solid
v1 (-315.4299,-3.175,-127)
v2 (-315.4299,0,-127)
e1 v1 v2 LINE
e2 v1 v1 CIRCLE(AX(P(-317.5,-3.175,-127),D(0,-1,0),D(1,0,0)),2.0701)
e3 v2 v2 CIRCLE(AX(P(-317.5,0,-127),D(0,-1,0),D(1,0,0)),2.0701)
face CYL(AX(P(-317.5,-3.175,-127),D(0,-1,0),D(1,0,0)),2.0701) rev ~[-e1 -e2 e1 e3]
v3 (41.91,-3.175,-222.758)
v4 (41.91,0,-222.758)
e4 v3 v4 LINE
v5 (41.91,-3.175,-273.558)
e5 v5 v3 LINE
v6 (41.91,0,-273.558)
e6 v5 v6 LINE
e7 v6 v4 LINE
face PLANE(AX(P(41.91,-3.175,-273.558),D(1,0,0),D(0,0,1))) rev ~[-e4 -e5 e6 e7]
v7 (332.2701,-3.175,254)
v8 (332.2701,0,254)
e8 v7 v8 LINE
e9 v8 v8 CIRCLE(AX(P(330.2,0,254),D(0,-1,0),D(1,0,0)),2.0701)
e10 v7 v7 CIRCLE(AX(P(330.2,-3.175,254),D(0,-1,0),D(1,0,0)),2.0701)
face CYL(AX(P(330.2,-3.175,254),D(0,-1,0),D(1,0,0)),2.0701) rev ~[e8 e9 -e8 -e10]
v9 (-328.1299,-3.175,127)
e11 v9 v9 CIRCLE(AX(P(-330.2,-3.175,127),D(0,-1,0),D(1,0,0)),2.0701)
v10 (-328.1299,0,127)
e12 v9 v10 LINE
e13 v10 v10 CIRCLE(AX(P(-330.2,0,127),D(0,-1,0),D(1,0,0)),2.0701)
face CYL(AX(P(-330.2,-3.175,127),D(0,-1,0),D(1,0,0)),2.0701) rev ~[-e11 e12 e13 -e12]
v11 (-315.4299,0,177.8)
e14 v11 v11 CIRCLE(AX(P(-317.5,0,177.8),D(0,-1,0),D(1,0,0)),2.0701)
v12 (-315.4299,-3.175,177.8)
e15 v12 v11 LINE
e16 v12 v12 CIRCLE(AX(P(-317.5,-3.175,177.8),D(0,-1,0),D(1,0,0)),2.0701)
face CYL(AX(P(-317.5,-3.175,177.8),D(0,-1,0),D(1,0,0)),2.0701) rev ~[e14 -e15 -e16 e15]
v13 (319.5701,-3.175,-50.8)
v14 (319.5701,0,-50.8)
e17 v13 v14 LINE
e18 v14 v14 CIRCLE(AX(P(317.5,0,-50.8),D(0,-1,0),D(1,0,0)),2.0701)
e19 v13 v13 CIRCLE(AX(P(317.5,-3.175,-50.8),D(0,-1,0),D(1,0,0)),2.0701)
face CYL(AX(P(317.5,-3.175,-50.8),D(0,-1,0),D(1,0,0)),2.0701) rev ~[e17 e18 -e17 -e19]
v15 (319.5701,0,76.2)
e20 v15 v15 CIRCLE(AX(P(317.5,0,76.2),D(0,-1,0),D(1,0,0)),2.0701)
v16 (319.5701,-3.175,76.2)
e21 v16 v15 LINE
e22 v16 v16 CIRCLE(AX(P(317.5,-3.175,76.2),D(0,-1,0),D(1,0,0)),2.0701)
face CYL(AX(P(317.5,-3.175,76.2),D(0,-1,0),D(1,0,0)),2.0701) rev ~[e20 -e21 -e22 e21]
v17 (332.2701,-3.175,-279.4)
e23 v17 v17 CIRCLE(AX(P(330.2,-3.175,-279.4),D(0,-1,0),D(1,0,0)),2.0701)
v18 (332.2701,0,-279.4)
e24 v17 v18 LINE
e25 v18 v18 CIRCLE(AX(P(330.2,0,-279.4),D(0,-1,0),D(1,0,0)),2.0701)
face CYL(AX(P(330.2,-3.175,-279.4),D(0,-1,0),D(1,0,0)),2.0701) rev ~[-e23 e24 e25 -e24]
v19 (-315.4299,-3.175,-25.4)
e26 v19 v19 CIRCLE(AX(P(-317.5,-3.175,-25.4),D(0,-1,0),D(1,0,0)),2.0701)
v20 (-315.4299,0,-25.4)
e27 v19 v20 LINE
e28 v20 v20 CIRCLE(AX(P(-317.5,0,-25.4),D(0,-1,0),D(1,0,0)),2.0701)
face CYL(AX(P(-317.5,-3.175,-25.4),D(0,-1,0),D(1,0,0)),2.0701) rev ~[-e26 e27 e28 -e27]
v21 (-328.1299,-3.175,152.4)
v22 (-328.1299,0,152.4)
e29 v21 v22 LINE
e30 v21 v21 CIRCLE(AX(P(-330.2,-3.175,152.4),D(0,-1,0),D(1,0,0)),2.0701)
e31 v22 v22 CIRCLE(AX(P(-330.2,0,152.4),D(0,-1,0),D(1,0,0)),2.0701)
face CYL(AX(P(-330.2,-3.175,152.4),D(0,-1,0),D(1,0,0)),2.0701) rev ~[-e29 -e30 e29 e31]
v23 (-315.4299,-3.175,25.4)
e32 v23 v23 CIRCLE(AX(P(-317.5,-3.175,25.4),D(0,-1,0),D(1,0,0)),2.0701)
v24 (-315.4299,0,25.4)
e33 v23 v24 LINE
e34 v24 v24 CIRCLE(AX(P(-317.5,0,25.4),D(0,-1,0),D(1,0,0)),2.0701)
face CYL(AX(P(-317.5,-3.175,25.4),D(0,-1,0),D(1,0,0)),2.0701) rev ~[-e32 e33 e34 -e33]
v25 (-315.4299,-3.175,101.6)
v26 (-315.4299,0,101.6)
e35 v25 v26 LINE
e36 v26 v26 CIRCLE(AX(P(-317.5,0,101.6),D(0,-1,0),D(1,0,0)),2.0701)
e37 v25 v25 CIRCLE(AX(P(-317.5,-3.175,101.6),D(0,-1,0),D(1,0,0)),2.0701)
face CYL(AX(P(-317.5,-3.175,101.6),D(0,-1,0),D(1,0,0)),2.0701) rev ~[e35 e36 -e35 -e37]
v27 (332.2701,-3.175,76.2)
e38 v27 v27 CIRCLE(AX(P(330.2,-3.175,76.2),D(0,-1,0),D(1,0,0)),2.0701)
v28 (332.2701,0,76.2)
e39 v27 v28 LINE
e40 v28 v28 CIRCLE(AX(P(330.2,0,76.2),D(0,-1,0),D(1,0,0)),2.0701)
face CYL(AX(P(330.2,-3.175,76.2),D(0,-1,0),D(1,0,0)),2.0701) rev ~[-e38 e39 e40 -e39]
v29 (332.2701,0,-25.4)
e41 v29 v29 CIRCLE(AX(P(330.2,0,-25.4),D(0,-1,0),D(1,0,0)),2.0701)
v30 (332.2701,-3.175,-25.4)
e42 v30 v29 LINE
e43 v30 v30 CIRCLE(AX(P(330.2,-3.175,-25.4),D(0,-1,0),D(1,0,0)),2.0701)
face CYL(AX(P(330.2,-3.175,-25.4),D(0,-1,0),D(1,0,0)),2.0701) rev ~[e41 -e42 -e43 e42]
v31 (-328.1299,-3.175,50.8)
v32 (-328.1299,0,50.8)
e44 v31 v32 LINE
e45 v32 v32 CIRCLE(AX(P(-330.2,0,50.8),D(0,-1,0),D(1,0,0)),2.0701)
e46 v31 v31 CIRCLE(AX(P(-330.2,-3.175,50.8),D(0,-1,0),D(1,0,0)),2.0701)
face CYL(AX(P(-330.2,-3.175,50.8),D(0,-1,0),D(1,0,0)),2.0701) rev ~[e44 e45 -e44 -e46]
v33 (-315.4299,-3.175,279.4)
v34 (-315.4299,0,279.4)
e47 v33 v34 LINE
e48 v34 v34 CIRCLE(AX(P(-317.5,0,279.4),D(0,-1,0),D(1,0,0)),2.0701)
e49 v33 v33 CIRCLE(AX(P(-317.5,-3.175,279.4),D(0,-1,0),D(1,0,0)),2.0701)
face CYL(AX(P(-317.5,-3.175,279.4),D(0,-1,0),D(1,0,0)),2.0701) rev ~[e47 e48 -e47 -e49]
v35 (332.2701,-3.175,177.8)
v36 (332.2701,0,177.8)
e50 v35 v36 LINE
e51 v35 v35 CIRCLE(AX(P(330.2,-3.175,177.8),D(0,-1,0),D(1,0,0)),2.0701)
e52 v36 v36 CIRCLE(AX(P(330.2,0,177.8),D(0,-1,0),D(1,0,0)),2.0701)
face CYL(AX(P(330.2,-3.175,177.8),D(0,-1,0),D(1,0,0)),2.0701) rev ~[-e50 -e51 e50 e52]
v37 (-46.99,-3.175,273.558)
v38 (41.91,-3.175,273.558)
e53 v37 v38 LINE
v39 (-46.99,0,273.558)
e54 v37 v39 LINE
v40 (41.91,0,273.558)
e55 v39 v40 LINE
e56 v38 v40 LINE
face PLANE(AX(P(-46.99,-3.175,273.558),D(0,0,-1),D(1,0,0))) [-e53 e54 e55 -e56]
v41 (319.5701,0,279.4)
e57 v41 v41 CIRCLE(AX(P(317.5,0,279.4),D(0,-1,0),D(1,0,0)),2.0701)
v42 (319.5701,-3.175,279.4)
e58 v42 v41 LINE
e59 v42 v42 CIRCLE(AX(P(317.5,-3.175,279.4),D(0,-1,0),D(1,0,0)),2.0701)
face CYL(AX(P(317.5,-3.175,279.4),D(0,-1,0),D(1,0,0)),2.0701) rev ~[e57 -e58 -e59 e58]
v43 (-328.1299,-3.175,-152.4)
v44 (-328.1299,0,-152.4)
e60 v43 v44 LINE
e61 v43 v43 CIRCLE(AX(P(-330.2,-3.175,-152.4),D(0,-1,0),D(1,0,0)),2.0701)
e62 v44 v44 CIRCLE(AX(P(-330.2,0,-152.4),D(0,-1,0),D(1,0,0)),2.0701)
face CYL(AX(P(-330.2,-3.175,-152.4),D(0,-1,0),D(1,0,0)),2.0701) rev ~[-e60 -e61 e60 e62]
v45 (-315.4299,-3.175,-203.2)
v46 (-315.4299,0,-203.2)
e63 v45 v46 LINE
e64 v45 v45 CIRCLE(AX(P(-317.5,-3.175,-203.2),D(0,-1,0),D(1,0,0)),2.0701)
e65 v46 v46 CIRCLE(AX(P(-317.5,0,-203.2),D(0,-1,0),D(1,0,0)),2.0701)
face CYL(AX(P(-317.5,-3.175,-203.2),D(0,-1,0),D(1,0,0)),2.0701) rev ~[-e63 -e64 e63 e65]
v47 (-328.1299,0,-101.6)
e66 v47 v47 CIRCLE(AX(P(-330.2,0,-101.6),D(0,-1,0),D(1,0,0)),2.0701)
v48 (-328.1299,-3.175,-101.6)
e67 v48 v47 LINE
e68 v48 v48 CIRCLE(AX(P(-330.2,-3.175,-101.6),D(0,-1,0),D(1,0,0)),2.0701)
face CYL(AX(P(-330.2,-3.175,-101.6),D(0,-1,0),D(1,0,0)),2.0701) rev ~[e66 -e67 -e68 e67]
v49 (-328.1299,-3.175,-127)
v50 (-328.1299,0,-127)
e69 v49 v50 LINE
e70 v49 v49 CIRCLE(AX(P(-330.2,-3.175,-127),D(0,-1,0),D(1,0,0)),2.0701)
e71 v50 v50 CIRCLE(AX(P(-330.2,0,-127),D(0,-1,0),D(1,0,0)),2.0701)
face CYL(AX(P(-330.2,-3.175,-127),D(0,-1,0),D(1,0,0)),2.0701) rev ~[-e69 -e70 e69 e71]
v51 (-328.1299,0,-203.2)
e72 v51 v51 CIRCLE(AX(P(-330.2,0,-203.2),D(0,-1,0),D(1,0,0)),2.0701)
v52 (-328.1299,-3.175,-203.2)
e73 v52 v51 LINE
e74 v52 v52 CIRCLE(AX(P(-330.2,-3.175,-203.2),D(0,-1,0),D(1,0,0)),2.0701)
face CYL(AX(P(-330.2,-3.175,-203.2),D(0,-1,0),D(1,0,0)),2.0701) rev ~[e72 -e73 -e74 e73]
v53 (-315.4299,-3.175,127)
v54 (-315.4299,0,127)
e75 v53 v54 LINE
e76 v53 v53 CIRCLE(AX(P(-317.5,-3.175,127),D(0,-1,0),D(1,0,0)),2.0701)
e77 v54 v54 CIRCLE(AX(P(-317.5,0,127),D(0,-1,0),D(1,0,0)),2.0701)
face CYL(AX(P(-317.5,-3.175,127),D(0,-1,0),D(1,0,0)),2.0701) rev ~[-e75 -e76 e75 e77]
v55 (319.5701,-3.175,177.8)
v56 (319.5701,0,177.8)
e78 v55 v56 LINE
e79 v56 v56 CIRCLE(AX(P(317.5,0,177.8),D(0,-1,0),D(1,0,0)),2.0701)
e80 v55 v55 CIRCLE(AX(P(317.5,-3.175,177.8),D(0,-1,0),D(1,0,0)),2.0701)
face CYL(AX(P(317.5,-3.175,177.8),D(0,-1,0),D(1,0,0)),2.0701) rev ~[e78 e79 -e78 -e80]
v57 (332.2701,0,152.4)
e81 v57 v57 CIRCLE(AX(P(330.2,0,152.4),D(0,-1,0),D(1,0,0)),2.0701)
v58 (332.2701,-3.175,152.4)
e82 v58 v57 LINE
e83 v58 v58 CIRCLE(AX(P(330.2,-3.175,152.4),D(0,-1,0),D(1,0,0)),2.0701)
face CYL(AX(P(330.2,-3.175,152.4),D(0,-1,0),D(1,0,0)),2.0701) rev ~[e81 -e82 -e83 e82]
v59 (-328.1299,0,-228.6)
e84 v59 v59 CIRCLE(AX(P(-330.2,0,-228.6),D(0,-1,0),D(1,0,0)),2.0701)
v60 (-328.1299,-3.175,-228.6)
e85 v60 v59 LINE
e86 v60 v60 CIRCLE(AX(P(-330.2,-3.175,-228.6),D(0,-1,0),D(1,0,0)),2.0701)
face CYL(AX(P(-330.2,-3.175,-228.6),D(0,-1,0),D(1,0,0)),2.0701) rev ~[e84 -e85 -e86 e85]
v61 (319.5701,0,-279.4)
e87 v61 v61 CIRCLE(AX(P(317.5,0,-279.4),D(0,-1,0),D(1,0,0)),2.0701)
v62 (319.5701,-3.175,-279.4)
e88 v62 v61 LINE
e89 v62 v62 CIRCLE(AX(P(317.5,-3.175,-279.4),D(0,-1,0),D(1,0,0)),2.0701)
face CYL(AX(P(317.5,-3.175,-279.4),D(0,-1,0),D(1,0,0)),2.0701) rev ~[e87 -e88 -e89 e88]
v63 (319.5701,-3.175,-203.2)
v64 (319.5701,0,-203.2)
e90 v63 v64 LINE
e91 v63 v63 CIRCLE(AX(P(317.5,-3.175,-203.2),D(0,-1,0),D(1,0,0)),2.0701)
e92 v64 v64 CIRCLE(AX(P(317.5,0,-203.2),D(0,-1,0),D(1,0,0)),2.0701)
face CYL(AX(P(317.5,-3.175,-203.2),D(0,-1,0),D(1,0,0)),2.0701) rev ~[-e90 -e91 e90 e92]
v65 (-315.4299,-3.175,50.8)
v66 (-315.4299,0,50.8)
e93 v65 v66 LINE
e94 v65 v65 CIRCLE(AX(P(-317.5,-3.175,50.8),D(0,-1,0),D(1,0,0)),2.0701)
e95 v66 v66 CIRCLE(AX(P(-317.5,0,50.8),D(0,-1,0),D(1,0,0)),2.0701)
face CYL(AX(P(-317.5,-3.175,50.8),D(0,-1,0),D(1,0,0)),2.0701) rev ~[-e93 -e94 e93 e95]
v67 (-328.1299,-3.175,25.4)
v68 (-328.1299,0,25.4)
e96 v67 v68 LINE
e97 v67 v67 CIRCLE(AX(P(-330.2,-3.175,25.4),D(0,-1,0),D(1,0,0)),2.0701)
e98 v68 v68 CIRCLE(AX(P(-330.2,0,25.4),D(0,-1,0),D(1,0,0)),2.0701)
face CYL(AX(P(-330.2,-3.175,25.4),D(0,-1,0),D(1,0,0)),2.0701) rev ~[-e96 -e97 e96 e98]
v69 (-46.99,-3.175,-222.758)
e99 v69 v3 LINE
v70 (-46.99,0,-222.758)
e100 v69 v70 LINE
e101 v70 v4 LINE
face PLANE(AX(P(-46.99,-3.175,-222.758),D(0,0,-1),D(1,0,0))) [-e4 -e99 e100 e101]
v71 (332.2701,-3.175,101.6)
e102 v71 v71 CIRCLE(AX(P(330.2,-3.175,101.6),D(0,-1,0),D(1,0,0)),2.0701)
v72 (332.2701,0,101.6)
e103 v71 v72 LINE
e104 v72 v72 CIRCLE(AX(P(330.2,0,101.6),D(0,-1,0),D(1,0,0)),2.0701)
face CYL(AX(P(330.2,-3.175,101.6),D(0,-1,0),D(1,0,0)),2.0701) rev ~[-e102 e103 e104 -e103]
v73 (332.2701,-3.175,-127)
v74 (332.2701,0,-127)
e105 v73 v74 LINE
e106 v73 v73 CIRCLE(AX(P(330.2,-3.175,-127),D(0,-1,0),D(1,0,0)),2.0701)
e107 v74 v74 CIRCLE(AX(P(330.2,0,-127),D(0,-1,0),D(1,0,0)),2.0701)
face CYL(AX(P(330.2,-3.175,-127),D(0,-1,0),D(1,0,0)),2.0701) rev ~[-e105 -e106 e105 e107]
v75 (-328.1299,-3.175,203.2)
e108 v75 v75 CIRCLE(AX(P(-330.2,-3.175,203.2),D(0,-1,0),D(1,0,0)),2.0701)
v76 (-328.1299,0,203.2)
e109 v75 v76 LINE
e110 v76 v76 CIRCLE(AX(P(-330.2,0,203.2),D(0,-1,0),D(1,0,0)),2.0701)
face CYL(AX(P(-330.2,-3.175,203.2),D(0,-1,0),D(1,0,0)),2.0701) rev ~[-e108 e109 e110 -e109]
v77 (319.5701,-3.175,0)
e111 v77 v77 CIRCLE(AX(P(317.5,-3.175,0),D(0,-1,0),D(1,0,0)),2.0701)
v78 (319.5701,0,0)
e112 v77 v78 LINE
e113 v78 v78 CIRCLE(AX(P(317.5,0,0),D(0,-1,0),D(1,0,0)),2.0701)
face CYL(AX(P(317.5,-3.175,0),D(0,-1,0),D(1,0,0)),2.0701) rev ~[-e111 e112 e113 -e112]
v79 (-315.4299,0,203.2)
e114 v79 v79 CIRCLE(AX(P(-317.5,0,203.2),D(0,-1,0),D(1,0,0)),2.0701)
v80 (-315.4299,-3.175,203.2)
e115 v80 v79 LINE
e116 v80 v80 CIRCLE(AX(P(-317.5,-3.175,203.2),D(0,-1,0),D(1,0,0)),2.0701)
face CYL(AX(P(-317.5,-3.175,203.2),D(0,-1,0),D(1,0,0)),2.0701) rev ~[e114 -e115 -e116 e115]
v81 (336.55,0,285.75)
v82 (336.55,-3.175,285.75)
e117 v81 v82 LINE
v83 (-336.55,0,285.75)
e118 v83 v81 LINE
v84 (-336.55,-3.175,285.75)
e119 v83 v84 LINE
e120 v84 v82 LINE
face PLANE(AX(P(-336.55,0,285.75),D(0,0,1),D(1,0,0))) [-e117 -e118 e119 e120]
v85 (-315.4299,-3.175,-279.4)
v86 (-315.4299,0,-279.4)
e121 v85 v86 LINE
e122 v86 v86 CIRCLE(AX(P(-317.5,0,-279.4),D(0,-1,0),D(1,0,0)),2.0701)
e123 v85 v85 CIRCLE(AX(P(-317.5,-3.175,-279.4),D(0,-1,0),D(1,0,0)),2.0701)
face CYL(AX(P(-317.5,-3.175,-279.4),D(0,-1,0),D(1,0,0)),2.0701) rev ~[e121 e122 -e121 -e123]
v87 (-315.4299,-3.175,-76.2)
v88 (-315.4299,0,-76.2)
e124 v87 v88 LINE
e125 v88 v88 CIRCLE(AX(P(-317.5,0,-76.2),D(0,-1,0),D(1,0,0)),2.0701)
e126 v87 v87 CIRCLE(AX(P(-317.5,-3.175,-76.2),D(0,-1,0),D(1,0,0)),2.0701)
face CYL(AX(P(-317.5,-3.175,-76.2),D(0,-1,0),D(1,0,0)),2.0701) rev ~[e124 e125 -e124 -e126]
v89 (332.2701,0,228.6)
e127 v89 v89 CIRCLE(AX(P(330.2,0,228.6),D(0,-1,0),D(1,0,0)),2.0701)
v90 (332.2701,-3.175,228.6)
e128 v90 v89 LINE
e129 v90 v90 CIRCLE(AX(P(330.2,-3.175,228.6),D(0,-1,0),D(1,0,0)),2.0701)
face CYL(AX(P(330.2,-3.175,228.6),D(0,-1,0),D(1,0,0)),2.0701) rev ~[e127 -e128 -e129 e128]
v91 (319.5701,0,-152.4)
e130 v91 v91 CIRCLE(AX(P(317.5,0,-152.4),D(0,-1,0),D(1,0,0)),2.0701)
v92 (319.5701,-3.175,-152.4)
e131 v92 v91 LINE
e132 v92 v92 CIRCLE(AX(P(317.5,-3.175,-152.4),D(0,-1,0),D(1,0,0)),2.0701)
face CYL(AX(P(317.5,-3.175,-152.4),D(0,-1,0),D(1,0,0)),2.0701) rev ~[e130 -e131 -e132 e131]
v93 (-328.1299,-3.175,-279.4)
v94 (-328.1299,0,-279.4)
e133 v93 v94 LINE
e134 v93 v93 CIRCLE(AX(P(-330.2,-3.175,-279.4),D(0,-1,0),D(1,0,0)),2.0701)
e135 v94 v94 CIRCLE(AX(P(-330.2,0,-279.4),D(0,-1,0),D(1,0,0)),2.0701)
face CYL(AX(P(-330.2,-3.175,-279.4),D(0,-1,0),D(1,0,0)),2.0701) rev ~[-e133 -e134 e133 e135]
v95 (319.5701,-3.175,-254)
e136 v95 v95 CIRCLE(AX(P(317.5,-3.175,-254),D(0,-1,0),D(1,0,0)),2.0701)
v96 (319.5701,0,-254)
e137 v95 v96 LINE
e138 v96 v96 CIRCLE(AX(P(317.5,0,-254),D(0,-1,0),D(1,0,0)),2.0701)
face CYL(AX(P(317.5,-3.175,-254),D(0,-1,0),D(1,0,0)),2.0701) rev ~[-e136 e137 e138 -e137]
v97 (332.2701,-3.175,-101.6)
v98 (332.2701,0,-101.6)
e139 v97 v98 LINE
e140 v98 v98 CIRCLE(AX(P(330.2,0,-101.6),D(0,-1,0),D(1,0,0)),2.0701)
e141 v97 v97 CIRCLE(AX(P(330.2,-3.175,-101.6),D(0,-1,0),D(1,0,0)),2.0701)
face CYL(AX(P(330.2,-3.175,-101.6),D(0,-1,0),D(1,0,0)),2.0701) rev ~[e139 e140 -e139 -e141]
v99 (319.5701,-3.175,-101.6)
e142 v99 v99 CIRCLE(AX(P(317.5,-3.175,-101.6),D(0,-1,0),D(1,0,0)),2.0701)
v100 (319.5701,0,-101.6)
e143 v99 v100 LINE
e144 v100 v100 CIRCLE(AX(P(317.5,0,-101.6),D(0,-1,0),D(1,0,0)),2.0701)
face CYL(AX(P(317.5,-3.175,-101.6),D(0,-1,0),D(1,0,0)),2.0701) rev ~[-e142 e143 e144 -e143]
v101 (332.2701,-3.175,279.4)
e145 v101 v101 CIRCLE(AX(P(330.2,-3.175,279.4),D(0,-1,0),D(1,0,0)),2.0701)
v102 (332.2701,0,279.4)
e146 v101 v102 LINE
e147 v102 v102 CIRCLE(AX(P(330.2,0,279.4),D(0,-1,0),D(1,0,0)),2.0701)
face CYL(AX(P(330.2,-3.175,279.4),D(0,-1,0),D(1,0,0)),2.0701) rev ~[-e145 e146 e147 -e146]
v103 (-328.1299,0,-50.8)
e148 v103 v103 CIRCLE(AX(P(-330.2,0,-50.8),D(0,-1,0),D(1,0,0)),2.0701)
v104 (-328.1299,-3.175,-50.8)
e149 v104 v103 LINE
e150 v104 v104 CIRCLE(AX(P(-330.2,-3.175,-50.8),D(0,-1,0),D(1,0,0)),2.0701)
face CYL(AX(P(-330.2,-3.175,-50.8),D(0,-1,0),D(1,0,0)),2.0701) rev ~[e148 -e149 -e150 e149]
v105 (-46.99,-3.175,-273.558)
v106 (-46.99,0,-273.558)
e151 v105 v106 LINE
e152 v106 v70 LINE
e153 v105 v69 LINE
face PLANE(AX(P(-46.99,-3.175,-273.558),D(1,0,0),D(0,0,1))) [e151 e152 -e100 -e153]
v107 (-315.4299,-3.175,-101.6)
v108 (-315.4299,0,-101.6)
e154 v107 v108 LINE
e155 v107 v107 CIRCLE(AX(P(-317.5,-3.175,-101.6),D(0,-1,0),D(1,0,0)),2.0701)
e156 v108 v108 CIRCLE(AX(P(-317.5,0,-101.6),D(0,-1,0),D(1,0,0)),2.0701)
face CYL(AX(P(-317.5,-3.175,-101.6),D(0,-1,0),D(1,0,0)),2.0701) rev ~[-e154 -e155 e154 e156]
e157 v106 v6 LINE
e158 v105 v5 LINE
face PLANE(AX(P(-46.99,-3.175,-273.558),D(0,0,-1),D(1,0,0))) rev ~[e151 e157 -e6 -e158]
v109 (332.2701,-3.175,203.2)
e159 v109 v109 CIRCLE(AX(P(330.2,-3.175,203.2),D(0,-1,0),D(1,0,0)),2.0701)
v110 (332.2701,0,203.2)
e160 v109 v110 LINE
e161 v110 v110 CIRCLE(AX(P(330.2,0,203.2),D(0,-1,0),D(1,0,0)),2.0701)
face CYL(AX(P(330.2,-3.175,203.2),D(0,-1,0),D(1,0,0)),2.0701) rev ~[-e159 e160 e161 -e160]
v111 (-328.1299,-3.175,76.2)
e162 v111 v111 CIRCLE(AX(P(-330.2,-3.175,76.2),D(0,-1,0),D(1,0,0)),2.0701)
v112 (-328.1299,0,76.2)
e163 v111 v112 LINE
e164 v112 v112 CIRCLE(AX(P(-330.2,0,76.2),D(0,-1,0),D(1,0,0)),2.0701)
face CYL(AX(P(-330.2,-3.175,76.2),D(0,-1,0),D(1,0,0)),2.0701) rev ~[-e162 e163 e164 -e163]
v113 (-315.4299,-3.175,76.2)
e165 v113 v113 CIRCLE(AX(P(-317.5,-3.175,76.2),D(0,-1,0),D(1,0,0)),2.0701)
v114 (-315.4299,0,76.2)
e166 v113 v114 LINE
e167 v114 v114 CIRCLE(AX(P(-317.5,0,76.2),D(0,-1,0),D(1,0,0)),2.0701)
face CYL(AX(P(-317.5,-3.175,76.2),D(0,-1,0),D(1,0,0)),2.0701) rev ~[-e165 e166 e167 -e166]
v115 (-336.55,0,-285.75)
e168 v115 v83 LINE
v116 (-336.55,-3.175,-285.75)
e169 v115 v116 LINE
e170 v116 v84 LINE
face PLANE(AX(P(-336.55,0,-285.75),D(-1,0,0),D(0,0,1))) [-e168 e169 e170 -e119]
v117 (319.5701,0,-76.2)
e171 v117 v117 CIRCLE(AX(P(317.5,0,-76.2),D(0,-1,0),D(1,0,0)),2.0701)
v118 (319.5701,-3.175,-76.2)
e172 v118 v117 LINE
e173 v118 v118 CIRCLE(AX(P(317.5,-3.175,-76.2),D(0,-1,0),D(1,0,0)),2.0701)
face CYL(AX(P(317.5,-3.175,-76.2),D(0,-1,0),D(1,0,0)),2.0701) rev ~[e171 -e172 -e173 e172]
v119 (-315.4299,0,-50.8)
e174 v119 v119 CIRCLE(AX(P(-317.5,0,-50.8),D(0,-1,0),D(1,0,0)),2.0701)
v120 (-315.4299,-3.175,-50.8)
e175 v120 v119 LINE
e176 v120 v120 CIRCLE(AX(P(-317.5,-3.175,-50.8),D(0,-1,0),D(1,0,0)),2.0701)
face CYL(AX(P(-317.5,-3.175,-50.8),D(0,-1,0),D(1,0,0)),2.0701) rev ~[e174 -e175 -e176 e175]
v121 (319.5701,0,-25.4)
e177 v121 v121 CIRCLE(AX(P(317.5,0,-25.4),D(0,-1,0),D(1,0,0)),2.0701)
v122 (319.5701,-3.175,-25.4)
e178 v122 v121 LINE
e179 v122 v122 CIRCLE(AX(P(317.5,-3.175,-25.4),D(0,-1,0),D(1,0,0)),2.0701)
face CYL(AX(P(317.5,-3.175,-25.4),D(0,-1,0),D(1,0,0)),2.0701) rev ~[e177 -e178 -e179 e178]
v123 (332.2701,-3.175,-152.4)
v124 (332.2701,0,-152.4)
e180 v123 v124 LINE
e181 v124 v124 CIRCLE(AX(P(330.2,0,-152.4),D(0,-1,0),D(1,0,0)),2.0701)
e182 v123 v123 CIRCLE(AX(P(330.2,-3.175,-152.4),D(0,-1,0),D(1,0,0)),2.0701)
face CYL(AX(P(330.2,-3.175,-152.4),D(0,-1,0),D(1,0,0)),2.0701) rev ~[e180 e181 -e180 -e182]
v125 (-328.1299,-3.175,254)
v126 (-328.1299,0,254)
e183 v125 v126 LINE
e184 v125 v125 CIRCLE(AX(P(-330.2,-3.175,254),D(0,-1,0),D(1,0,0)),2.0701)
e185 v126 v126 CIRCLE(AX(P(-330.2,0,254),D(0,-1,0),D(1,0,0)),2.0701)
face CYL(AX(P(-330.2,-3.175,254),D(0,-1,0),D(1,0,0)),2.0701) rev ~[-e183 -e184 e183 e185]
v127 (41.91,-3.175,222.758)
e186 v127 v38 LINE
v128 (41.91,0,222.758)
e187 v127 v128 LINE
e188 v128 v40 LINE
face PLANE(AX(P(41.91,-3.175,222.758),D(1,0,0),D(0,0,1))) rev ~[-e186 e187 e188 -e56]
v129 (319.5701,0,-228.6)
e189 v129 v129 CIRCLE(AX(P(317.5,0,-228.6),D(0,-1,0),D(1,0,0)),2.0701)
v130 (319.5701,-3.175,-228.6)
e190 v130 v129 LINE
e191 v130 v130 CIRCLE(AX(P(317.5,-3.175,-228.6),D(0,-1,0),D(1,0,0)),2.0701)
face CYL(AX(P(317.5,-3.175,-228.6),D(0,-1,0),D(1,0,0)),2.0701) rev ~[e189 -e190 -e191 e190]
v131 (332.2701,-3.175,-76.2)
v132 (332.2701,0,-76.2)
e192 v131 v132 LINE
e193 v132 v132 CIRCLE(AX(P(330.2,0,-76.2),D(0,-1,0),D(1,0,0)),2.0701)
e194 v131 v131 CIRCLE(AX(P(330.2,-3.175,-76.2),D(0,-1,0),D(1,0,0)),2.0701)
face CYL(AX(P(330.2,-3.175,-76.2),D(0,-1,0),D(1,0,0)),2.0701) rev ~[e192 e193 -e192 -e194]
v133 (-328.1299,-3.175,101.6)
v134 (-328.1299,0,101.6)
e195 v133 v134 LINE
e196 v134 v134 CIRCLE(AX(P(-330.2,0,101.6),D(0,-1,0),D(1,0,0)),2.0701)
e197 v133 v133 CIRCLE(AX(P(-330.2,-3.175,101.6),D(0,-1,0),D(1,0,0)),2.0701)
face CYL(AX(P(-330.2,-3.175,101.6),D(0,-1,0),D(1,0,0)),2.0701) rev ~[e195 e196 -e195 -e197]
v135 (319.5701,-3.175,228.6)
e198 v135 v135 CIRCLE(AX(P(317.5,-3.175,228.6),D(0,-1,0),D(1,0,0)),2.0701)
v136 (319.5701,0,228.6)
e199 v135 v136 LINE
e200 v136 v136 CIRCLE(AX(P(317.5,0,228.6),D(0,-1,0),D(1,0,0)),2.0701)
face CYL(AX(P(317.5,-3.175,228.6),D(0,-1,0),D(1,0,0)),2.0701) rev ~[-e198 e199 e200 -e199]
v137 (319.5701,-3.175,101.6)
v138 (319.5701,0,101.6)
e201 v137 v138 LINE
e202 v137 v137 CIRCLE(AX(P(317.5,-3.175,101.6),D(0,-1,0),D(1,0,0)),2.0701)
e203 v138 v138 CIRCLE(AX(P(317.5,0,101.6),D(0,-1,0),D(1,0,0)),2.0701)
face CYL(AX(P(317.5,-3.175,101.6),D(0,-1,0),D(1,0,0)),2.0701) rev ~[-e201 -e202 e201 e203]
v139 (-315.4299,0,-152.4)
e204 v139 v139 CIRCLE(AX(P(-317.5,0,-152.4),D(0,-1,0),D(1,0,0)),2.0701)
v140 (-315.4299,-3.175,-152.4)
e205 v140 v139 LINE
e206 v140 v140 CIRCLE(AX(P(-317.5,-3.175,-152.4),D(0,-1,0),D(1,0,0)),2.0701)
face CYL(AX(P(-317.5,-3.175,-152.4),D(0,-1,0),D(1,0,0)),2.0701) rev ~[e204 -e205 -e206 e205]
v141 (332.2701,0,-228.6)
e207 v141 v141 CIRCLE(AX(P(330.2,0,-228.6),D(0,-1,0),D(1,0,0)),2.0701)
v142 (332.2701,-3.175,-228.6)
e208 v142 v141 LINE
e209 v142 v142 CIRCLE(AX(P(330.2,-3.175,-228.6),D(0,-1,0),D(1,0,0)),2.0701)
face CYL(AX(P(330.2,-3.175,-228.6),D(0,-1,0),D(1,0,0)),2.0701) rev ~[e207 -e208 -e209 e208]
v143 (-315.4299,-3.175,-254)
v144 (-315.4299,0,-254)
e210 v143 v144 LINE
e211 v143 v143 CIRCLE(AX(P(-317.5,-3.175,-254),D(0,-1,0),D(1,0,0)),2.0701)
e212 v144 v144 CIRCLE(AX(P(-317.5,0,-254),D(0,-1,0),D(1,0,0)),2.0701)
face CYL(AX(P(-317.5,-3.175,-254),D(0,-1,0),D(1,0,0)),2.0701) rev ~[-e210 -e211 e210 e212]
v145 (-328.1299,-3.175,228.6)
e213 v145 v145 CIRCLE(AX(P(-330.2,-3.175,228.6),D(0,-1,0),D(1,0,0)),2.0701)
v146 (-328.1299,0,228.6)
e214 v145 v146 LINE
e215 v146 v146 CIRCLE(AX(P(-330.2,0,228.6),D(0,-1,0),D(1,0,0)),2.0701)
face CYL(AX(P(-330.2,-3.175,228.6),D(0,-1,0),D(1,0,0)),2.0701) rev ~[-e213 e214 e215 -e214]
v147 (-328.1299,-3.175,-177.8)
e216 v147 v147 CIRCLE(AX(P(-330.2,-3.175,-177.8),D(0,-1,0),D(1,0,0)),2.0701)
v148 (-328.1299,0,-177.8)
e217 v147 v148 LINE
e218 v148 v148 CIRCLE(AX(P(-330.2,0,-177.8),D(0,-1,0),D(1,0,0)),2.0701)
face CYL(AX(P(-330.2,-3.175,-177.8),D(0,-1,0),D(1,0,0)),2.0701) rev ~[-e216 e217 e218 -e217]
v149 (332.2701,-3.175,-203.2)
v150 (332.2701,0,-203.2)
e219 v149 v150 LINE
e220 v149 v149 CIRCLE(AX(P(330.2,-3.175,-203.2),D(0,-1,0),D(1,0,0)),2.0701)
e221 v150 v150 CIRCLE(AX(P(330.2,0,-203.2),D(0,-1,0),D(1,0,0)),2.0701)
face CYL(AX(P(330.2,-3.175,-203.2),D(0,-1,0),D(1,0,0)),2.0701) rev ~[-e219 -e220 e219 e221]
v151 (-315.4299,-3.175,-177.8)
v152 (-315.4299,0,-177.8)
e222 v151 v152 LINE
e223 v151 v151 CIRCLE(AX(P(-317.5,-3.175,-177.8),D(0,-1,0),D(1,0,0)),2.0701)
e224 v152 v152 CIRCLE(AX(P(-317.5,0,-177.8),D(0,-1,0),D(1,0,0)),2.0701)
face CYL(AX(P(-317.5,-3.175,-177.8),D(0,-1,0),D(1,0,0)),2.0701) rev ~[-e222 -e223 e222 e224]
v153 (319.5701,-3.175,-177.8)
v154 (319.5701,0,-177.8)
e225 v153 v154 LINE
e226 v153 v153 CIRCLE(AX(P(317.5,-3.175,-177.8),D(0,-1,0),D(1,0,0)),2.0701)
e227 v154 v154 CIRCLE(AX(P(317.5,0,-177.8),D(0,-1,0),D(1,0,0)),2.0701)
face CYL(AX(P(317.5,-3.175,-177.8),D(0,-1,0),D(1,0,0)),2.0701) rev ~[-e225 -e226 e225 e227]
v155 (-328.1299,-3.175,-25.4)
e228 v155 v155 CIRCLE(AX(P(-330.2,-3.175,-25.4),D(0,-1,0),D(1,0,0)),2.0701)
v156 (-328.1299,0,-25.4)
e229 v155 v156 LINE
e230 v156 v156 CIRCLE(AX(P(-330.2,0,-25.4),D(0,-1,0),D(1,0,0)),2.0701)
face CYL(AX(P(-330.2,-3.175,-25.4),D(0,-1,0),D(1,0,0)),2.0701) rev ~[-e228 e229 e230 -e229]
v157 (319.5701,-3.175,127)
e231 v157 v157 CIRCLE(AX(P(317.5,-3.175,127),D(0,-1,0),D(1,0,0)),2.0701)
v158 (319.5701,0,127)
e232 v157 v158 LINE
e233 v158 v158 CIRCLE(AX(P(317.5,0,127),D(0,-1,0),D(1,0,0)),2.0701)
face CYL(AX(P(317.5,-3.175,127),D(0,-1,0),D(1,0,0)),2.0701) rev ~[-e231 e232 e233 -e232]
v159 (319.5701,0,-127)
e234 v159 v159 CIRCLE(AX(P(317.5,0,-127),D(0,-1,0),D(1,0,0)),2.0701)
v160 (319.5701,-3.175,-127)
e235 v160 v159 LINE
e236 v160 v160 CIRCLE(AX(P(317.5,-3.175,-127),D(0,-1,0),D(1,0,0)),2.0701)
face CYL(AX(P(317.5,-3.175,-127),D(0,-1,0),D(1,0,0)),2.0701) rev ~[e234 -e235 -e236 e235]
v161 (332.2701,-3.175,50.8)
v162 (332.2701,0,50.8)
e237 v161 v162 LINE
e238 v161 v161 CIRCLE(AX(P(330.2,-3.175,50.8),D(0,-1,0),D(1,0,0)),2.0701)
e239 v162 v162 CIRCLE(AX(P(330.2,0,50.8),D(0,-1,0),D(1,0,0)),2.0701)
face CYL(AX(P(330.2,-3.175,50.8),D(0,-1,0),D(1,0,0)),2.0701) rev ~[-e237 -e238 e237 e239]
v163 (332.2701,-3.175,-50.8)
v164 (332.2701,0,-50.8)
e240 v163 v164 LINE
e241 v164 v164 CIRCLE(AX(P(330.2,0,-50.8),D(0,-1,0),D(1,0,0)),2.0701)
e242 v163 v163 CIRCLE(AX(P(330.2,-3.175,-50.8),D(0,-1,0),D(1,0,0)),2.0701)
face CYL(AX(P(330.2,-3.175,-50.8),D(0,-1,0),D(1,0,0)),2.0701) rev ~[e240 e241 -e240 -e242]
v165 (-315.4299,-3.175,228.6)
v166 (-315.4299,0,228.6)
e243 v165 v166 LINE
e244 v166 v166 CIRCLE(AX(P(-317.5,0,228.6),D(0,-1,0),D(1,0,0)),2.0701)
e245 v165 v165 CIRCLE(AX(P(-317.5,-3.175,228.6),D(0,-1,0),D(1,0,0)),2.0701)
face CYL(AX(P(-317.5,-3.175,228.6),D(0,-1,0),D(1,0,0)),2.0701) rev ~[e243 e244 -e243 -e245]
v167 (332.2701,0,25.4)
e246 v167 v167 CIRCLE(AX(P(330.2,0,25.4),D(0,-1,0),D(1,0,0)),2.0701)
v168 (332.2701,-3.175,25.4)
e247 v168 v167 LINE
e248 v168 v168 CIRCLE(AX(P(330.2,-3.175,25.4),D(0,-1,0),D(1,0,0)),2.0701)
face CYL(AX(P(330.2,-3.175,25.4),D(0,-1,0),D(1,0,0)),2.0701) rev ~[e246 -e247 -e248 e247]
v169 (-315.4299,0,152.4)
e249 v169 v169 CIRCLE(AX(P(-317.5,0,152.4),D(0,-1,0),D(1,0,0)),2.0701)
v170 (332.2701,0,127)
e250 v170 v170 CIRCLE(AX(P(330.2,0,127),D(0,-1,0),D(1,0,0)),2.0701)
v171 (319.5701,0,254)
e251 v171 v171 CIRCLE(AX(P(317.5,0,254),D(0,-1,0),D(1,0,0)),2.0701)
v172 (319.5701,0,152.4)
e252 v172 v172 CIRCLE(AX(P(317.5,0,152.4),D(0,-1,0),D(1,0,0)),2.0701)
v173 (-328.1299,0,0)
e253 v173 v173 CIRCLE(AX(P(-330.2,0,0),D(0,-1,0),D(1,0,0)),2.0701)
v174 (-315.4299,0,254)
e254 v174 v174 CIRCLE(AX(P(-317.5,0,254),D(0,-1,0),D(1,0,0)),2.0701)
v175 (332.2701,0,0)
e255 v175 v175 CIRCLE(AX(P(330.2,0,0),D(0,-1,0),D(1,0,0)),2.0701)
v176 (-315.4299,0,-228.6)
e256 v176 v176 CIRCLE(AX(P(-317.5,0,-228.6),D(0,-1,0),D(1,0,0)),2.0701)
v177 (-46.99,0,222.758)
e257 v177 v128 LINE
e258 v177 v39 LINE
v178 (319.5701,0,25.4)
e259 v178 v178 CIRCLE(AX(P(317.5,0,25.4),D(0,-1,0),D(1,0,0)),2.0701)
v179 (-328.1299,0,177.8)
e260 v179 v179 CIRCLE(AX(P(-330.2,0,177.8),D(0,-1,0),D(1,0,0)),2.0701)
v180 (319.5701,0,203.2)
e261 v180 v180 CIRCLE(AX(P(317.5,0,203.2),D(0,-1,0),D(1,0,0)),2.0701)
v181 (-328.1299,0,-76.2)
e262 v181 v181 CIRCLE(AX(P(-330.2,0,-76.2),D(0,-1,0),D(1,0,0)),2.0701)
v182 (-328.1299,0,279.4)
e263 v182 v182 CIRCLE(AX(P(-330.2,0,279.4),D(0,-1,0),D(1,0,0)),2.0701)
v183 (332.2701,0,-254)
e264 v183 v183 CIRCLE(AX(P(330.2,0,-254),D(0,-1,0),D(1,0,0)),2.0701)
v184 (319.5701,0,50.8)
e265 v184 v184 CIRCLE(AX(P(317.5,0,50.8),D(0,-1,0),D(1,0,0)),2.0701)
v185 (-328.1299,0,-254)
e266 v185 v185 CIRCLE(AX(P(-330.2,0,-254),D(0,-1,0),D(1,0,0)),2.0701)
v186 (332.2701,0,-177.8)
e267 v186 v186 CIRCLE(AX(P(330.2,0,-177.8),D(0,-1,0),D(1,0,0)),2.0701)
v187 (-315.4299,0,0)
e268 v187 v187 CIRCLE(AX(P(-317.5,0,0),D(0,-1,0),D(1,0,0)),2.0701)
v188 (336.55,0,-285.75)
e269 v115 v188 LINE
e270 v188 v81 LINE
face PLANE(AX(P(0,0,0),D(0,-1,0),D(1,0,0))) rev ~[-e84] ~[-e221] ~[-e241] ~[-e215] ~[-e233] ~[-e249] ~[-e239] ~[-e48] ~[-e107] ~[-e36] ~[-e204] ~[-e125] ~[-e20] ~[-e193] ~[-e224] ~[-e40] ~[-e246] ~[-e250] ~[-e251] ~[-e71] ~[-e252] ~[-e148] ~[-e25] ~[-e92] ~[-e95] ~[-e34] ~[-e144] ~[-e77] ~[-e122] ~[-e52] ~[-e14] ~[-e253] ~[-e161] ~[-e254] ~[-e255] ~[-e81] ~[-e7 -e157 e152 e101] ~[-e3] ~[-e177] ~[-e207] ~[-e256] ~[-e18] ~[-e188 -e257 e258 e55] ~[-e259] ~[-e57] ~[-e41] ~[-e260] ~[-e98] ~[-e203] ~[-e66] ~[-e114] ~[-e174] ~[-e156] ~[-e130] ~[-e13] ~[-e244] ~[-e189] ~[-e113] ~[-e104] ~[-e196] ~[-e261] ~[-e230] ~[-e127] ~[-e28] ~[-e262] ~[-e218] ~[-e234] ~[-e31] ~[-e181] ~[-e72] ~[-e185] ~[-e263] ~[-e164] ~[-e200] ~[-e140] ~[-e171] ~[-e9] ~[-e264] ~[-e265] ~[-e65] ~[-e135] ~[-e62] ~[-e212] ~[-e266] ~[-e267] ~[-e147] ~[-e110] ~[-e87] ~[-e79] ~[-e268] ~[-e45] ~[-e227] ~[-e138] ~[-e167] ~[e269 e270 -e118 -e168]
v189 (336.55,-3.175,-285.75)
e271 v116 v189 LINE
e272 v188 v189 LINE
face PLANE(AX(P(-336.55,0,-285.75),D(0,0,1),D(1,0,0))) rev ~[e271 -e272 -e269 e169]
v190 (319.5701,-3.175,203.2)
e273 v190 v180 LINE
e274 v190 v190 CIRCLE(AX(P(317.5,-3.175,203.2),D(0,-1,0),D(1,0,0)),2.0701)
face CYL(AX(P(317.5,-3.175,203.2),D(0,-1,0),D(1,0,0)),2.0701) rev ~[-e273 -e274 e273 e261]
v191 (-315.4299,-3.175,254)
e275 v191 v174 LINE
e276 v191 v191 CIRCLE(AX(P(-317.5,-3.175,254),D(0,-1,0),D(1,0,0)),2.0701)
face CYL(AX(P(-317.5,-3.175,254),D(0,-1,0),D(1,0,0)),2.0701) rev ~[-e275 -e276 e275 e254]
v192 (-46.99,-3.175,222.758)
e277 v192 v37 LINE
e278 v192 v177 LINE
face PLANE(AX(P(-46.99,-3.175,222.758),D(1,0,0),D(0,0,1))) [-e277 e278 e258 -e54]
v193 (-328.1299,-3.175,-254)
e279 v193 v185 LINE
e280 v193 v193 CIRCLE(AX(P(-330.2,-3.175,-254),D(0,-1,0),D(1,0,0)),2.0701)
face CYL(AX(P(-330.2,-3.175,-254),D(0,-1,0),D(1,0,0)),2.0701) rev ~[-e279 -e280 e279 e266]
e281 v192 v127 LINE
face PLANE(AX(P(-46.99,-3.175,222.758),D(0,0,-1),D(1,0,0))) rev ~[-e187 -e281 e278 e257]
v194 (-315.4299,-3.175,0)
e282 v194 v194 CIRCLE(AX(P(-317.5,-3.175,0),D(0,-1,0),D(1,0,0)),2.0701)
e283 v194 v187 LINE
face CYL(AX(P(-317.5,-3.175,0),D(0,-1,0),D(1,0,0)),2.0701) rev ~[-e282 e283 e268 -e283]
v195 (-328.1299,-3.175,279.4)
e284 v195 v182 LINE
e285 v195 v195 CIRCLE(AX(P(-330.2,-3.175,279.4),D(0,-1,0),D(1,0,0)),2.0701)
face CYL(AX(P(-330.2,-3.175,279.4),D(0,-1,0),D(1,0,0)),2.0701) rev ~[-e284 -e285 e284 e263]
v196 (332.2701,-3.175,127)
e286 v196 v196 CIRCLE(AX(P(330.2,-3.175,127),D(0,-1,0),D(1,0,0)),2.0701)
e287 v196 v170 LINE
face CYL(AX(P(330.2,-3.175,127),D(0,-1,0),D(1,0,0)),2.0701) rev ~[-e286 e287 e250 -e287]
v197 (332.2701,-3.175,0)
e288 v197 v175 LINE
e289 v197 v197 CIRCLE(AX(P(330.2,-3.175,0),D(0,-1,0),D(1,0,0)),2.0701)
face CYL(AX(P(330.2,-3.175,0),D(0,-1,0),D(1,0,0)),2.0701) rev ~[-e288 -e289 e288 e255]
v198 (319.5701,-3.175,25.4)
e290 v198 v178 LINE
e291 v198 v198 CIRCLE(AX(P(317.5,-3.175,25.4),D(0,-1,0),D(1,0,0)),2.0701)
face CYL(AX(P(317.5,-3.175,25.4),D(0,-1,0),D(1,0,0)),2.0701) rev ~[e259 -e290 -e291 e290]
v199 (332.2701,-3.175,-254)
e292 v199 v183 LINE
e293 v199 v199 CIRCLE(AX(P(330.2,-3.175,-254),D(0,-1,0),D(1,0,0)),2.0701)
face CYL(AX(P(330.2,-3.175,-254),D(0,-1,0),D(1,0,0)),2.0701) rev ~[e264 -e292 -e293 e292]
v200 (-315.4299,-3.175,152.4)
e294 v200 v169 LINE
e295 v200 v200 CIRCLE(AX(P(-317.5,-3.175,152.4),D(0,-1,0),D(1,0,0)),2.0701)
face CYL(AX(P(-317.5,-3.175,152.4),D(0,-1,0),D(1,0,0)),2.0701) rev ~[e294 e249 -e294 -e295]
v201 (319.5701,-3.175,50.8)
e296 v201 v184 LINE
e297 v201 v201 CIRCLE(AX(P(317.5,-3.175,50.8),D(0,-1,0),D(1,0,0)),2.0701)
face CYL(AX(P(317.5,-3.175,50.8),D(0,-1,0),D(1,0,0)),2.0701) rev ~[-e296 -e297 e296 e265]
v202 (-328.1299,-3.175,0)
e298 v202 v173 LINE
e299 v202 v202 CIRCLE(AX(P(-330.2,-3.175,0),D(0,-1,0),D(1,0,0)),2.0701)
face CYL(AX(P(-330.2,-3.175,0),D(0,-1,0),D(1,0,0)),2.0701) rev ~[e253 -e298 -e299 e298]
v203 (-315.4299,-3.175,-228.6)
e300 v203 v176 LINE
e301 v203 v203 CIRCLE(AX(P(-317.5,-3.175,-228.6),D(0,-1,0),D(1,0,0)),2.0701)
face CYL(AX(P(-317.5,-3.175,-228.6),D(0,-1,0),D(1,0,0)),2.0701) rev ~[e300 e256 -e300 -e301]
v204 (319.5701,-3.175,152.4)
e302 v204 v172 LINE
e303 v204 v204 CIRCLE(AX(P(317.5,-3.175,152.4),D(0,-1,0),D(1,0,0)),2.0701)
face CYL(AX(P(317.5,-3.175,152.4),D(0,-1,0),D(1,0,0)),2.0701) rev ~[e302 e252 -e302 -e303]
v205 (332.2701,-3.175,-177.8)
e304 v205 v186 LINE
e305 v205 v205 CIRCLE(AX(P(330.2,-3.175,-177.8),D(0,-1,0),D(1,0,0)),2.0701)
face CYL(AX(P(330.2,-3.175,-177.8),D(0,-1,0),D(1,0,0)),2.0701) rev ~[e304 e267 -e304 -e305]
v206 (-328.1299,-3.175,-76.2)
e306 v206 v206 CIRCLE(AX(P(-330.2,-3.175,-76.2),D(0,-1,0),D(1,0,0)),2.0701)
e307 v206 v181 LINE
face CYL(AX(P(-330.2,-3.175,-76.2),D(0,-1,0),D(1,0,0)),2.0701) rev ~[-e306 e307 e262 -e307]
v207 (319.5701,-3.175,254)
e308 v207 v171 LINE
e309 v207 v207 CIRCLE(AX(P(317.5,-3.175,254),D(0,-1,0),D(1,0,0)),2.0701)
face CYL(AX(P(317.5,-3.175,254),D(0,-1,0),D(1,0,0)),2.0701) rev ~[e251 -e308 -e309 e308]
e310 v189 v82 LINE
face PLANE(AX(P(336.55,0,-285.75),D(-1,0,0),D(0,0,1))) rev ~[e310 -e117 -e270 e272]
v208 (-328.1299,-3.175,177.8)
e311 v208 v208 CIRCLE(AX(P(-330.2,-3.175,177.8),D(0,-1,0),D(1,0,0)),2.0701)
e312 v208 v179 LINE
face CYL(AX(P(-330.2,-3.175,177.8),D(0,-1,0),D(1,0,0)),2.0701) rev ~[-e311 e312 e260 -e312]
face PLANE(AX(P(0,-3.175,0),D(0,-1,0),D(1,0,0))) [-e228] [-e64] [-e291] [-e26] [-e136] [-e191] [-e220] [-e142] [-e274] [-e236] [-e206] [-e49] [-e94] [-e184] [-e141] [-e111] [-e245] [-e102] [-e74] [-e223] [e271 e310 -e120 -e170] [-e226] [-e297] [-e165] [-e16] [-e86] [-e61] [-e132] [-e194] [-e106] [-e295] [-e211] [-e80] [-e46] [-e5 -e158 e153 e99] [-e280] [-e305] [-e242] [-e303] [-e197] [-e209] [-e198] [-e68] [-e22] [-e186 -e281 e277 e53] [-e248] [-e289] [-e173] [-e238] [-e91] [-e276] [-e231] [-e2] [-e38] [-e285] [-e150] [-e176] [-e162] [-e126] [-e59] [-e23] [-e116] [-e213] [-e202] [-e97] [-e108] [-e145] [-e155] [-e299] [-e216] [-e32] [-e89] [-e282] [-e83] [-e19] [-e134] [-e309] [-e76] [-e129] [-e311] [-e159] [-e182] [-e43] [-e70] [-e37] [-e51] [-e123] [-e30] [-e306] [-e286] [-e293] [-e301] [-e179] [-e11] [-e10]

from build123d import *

# Parameters (mm, degrees)
F0_W     = 673.1
F0_H     = 571.5
F1_DEPTH = 3.175
F2_R     = 2.0701
F3_DEPTH = 25.4
F4_W     = 88.9
F4_H     = 50.8
F5_DEPTH = 25.4


with BuildPart() as f1:
    # F0 (on Front) → F1 (new body)
    with BuildSketch(Plane.XZ):
        Rectangle(F0_W, F0_H)
    extrude(amount=F1_DEPTH)

    # F2 (on face) → F3 (cut)
    with BuildSketch(Plane.XZ.offset(3.175)):
        with Locations((-330.2, -279.4)):
            Circle(F2_R)
        with Locations((-317.5, -279.4)):
            Circle(F2_R)
        with Locations((-317.5, -254)):
            Circle(F2_R)
        with Locations((-330.2, -254)):
            Circle(F2_R)
        with Locations((-330.2, -228.6)):
            Circle(F2_R)
        with Locations((-317.5, -228.6)):
            Circle(F2_R)
        with Locations((-317.5, -203.2)):
            Circle(F2_R)
        with Locations((-330.2, -203.2)):
            Circle(F2_R)
        with Locations((-330.2, -177.8)):
            Circle(F2_R)
        with Locations((-317.5, -177.8)):
            Circle(F2_R)
        with Locations((-317.5, -152.4)):
            Circle(F2_R)
        with Locations((-330.2, -152.4)):
            Circle(F2_R)
        with Locations((-330.2, -127)):
            Circle(F2_R)
        with Locations((-317.5, -127)):
            Circle(F2_R)
        with Locations((-317.5, -101.6)):
            Circle(F2_R)
        with Locations((-330.2, -101.6)):
            Circle(F2_R)
        with Locations((-330.2, -76.2)):
            Circle(F2_R)
        with Locations((-317.5, -76.2)):
            Circle(F2_R)
        with Locations((-317.5, -50.8)):
            Circle(F2_R)
        with Locations((-330.2, -50.8)):
            Circle(F2_R)
        with Locations((-330.2, -25.4)):
            Circle(F2_R)
        with Locations((-317.5, -25.4)):
            Circle(F2_R)
        with Locations((-330.2, 0)):
            Circle(F2_R)
        with Locations((-317.5, 0)):
            Circle(F2_R)
        with Locations((-317.5, 25.4)):
            Circle(F2_R)
        with Locations((-330.2, 25.4)):
            Circle(F2_R)
        with Locations((-330.2, 50.8)):
            Circle(F2_R)
        with Locations((-317.5, 50.8)):
            Circle(F2_R)
        with Locations((-317.5, 76.2)):
            Circle(F2_R)
        with Locations((-330.2, 76.2)):
            Circle(F2_R)
        with Locations((-330.2, 101.6)):
            Circle(F2_R)
        with Locations((-317.5, 101.6)):
            Circle(F2_R)
        with Locations((-330.2, 127)):
            Circle(F2_R)
        with Locations((-317.5, 127)):
            Circle(F2_R)
        with Locations((-317.5, 152.4)):
            Circle(F2_R)
        with Locations((-330.2, 152.4)):
            Circle(F2_R)
        with Locations((-330.2, 177.8)):
            Circle(F2_R)
        with Locations((-317.5, 177.8)):
            Circle(F2_R)
        with Locations((-317.5, 203.2)):
            Circle(F2_R)
        with Locations((-330.2, 203.2)):
            Circle(F2_R)
        with Locations((-330.2, 228.6)):
            Circle(F2_R)
        with Locations((-317.5, 228.6)):
            Circle(F2_R)
        with Locations((-317.5, 254)):
            Circle(F2_R)
        with Locations((-330.2, 254)):
            Circle(F2_R)
        with Locations((-330.2, 279.4)):
            Circle(F2_R)
        with Locations((-317.5, 279.4)):
            Circle(F2_R)
        with Locations((317.5, 279.4)):
            Circle(F2_R)
        with Locations((330.2, 279.4)):
            Circle(F2_R)
        with Locations((317.5, 254)):
            Circle(F2_R)
        with Locations((330.2, 254)):
            Circle(F2_R)
        with Locations((317.5, 228.6)):
            Circle(F2_R)
        with Locations((330.2, 228.6)):
            Circle(F2_R)
        with Locations((317.5, 203.2)):
            Circle(F2_R)
        with Locations((330.2, 203.2)):
            Circle(F2_R)
        with Locations((317.5, 177.8)):
            Circle(F2_R)
        with Locations((330.2, 177.8)):
            Circle(F2_R)
        with Locations((330.2, 152.4)):
            Circle(F2_R)
        with Locations((317.5, 152.4)):
            Circle(F2_R)
        with Locations((317.5, 127)):
            Circle(F2_R)
        with Locations((330.2, 127)):
            Circle(F2_R)
        with Locations((317.5, 101.6)):
            Circle(F2_R)
        with Locations((330.2, 101.6)):
            Circle(F2_R)
        with Locations((330.2, 76.2)):
            Circle(F2_R)
        with Locations((317.5, 76.2)):
            Circle(F2_R)
        with Locations((317.5, 50.8)):
            Circle(F2_R)
        with Locations((330.2, 50.8)):
            Circle(F2_R)
        with Locations((330.2, 25.4)):
            Circle(F2_R)
        with Locations((317.5, 25.4)):
            Circle(F2_R)
        with Locations((317.5, 0)):
            Circle(F2_R)
        with Locations((330.2, 0)):
            Circle(F2_R)
        with Locations((330.2, -25.4)):
            Circle(F2_R)
        with Locations((317.5, -25.4)):
            Circle(F2_R)
        with Locations((317.5, -50.8)):
            Circle(F2_R)
        with Locations((330.2, -50.8)):
            Circle(F2_R)
        with Locations((330.2, -76.2)):
            Circle(F2_R)
        with Locations((317.5, -76.2)):
            Circle(F2_R)
        with Locations((317.5, -101.6)):
            Circle(F2_R)
        with Locations((330.2, -101.6)):
            Circle(F2_R)
        with Locations((317.5, -127)):
            Circle(F2_R)
        with Locations((330.2, -127)):
            Circle(F2_R)
        with Locations((330.2, -152.4)):
            Circle(F2_R)
        with Locations((317.5, -152.4)):
            Circle(F2_R)
        with Locations((317.5, -177.8)):
            Circle(F2_R)
        with Locations((330.2, -177.8)):
            Circle(F2_R)
        with Locations((330.2, -203.2)):
            Circle(F2_R)
        with Locations((317.5, -203.2)):
            Circle(F2_R)
        with Locations((317.5, -228.6)):
            Circle(F2_R)
        with Locations((317.5, -254)):
            Circle(F2_R)
        with Locations((317.5, -279.4)):
            Circle(F2_R)
        with Locations((330.2, -279.4)):
            Circle(F2_R)
        with Locations((330.2, -254)):
            Circle(F2_R)
        with Locations((330.2, -228.6)):
            Circle(F2_R)
    extrude(amount=-F3_DEPTH, mode=Mode.SUBTRACT)

    # F4 (on face) → F5 (cut)
    with BuildSketch(Plane.XZ.offset(3.175)):
        with Locations((-2.54, -248.158)):
            Rectangle(F4_W, F4_H)
        with Locations((-2.54, 248.158)):
            Rectangle(F4_W, F4_H)
    extrude(amount=-F5_DEPTH, mode=Mode.SUBTRACT)


solid = f1.part
